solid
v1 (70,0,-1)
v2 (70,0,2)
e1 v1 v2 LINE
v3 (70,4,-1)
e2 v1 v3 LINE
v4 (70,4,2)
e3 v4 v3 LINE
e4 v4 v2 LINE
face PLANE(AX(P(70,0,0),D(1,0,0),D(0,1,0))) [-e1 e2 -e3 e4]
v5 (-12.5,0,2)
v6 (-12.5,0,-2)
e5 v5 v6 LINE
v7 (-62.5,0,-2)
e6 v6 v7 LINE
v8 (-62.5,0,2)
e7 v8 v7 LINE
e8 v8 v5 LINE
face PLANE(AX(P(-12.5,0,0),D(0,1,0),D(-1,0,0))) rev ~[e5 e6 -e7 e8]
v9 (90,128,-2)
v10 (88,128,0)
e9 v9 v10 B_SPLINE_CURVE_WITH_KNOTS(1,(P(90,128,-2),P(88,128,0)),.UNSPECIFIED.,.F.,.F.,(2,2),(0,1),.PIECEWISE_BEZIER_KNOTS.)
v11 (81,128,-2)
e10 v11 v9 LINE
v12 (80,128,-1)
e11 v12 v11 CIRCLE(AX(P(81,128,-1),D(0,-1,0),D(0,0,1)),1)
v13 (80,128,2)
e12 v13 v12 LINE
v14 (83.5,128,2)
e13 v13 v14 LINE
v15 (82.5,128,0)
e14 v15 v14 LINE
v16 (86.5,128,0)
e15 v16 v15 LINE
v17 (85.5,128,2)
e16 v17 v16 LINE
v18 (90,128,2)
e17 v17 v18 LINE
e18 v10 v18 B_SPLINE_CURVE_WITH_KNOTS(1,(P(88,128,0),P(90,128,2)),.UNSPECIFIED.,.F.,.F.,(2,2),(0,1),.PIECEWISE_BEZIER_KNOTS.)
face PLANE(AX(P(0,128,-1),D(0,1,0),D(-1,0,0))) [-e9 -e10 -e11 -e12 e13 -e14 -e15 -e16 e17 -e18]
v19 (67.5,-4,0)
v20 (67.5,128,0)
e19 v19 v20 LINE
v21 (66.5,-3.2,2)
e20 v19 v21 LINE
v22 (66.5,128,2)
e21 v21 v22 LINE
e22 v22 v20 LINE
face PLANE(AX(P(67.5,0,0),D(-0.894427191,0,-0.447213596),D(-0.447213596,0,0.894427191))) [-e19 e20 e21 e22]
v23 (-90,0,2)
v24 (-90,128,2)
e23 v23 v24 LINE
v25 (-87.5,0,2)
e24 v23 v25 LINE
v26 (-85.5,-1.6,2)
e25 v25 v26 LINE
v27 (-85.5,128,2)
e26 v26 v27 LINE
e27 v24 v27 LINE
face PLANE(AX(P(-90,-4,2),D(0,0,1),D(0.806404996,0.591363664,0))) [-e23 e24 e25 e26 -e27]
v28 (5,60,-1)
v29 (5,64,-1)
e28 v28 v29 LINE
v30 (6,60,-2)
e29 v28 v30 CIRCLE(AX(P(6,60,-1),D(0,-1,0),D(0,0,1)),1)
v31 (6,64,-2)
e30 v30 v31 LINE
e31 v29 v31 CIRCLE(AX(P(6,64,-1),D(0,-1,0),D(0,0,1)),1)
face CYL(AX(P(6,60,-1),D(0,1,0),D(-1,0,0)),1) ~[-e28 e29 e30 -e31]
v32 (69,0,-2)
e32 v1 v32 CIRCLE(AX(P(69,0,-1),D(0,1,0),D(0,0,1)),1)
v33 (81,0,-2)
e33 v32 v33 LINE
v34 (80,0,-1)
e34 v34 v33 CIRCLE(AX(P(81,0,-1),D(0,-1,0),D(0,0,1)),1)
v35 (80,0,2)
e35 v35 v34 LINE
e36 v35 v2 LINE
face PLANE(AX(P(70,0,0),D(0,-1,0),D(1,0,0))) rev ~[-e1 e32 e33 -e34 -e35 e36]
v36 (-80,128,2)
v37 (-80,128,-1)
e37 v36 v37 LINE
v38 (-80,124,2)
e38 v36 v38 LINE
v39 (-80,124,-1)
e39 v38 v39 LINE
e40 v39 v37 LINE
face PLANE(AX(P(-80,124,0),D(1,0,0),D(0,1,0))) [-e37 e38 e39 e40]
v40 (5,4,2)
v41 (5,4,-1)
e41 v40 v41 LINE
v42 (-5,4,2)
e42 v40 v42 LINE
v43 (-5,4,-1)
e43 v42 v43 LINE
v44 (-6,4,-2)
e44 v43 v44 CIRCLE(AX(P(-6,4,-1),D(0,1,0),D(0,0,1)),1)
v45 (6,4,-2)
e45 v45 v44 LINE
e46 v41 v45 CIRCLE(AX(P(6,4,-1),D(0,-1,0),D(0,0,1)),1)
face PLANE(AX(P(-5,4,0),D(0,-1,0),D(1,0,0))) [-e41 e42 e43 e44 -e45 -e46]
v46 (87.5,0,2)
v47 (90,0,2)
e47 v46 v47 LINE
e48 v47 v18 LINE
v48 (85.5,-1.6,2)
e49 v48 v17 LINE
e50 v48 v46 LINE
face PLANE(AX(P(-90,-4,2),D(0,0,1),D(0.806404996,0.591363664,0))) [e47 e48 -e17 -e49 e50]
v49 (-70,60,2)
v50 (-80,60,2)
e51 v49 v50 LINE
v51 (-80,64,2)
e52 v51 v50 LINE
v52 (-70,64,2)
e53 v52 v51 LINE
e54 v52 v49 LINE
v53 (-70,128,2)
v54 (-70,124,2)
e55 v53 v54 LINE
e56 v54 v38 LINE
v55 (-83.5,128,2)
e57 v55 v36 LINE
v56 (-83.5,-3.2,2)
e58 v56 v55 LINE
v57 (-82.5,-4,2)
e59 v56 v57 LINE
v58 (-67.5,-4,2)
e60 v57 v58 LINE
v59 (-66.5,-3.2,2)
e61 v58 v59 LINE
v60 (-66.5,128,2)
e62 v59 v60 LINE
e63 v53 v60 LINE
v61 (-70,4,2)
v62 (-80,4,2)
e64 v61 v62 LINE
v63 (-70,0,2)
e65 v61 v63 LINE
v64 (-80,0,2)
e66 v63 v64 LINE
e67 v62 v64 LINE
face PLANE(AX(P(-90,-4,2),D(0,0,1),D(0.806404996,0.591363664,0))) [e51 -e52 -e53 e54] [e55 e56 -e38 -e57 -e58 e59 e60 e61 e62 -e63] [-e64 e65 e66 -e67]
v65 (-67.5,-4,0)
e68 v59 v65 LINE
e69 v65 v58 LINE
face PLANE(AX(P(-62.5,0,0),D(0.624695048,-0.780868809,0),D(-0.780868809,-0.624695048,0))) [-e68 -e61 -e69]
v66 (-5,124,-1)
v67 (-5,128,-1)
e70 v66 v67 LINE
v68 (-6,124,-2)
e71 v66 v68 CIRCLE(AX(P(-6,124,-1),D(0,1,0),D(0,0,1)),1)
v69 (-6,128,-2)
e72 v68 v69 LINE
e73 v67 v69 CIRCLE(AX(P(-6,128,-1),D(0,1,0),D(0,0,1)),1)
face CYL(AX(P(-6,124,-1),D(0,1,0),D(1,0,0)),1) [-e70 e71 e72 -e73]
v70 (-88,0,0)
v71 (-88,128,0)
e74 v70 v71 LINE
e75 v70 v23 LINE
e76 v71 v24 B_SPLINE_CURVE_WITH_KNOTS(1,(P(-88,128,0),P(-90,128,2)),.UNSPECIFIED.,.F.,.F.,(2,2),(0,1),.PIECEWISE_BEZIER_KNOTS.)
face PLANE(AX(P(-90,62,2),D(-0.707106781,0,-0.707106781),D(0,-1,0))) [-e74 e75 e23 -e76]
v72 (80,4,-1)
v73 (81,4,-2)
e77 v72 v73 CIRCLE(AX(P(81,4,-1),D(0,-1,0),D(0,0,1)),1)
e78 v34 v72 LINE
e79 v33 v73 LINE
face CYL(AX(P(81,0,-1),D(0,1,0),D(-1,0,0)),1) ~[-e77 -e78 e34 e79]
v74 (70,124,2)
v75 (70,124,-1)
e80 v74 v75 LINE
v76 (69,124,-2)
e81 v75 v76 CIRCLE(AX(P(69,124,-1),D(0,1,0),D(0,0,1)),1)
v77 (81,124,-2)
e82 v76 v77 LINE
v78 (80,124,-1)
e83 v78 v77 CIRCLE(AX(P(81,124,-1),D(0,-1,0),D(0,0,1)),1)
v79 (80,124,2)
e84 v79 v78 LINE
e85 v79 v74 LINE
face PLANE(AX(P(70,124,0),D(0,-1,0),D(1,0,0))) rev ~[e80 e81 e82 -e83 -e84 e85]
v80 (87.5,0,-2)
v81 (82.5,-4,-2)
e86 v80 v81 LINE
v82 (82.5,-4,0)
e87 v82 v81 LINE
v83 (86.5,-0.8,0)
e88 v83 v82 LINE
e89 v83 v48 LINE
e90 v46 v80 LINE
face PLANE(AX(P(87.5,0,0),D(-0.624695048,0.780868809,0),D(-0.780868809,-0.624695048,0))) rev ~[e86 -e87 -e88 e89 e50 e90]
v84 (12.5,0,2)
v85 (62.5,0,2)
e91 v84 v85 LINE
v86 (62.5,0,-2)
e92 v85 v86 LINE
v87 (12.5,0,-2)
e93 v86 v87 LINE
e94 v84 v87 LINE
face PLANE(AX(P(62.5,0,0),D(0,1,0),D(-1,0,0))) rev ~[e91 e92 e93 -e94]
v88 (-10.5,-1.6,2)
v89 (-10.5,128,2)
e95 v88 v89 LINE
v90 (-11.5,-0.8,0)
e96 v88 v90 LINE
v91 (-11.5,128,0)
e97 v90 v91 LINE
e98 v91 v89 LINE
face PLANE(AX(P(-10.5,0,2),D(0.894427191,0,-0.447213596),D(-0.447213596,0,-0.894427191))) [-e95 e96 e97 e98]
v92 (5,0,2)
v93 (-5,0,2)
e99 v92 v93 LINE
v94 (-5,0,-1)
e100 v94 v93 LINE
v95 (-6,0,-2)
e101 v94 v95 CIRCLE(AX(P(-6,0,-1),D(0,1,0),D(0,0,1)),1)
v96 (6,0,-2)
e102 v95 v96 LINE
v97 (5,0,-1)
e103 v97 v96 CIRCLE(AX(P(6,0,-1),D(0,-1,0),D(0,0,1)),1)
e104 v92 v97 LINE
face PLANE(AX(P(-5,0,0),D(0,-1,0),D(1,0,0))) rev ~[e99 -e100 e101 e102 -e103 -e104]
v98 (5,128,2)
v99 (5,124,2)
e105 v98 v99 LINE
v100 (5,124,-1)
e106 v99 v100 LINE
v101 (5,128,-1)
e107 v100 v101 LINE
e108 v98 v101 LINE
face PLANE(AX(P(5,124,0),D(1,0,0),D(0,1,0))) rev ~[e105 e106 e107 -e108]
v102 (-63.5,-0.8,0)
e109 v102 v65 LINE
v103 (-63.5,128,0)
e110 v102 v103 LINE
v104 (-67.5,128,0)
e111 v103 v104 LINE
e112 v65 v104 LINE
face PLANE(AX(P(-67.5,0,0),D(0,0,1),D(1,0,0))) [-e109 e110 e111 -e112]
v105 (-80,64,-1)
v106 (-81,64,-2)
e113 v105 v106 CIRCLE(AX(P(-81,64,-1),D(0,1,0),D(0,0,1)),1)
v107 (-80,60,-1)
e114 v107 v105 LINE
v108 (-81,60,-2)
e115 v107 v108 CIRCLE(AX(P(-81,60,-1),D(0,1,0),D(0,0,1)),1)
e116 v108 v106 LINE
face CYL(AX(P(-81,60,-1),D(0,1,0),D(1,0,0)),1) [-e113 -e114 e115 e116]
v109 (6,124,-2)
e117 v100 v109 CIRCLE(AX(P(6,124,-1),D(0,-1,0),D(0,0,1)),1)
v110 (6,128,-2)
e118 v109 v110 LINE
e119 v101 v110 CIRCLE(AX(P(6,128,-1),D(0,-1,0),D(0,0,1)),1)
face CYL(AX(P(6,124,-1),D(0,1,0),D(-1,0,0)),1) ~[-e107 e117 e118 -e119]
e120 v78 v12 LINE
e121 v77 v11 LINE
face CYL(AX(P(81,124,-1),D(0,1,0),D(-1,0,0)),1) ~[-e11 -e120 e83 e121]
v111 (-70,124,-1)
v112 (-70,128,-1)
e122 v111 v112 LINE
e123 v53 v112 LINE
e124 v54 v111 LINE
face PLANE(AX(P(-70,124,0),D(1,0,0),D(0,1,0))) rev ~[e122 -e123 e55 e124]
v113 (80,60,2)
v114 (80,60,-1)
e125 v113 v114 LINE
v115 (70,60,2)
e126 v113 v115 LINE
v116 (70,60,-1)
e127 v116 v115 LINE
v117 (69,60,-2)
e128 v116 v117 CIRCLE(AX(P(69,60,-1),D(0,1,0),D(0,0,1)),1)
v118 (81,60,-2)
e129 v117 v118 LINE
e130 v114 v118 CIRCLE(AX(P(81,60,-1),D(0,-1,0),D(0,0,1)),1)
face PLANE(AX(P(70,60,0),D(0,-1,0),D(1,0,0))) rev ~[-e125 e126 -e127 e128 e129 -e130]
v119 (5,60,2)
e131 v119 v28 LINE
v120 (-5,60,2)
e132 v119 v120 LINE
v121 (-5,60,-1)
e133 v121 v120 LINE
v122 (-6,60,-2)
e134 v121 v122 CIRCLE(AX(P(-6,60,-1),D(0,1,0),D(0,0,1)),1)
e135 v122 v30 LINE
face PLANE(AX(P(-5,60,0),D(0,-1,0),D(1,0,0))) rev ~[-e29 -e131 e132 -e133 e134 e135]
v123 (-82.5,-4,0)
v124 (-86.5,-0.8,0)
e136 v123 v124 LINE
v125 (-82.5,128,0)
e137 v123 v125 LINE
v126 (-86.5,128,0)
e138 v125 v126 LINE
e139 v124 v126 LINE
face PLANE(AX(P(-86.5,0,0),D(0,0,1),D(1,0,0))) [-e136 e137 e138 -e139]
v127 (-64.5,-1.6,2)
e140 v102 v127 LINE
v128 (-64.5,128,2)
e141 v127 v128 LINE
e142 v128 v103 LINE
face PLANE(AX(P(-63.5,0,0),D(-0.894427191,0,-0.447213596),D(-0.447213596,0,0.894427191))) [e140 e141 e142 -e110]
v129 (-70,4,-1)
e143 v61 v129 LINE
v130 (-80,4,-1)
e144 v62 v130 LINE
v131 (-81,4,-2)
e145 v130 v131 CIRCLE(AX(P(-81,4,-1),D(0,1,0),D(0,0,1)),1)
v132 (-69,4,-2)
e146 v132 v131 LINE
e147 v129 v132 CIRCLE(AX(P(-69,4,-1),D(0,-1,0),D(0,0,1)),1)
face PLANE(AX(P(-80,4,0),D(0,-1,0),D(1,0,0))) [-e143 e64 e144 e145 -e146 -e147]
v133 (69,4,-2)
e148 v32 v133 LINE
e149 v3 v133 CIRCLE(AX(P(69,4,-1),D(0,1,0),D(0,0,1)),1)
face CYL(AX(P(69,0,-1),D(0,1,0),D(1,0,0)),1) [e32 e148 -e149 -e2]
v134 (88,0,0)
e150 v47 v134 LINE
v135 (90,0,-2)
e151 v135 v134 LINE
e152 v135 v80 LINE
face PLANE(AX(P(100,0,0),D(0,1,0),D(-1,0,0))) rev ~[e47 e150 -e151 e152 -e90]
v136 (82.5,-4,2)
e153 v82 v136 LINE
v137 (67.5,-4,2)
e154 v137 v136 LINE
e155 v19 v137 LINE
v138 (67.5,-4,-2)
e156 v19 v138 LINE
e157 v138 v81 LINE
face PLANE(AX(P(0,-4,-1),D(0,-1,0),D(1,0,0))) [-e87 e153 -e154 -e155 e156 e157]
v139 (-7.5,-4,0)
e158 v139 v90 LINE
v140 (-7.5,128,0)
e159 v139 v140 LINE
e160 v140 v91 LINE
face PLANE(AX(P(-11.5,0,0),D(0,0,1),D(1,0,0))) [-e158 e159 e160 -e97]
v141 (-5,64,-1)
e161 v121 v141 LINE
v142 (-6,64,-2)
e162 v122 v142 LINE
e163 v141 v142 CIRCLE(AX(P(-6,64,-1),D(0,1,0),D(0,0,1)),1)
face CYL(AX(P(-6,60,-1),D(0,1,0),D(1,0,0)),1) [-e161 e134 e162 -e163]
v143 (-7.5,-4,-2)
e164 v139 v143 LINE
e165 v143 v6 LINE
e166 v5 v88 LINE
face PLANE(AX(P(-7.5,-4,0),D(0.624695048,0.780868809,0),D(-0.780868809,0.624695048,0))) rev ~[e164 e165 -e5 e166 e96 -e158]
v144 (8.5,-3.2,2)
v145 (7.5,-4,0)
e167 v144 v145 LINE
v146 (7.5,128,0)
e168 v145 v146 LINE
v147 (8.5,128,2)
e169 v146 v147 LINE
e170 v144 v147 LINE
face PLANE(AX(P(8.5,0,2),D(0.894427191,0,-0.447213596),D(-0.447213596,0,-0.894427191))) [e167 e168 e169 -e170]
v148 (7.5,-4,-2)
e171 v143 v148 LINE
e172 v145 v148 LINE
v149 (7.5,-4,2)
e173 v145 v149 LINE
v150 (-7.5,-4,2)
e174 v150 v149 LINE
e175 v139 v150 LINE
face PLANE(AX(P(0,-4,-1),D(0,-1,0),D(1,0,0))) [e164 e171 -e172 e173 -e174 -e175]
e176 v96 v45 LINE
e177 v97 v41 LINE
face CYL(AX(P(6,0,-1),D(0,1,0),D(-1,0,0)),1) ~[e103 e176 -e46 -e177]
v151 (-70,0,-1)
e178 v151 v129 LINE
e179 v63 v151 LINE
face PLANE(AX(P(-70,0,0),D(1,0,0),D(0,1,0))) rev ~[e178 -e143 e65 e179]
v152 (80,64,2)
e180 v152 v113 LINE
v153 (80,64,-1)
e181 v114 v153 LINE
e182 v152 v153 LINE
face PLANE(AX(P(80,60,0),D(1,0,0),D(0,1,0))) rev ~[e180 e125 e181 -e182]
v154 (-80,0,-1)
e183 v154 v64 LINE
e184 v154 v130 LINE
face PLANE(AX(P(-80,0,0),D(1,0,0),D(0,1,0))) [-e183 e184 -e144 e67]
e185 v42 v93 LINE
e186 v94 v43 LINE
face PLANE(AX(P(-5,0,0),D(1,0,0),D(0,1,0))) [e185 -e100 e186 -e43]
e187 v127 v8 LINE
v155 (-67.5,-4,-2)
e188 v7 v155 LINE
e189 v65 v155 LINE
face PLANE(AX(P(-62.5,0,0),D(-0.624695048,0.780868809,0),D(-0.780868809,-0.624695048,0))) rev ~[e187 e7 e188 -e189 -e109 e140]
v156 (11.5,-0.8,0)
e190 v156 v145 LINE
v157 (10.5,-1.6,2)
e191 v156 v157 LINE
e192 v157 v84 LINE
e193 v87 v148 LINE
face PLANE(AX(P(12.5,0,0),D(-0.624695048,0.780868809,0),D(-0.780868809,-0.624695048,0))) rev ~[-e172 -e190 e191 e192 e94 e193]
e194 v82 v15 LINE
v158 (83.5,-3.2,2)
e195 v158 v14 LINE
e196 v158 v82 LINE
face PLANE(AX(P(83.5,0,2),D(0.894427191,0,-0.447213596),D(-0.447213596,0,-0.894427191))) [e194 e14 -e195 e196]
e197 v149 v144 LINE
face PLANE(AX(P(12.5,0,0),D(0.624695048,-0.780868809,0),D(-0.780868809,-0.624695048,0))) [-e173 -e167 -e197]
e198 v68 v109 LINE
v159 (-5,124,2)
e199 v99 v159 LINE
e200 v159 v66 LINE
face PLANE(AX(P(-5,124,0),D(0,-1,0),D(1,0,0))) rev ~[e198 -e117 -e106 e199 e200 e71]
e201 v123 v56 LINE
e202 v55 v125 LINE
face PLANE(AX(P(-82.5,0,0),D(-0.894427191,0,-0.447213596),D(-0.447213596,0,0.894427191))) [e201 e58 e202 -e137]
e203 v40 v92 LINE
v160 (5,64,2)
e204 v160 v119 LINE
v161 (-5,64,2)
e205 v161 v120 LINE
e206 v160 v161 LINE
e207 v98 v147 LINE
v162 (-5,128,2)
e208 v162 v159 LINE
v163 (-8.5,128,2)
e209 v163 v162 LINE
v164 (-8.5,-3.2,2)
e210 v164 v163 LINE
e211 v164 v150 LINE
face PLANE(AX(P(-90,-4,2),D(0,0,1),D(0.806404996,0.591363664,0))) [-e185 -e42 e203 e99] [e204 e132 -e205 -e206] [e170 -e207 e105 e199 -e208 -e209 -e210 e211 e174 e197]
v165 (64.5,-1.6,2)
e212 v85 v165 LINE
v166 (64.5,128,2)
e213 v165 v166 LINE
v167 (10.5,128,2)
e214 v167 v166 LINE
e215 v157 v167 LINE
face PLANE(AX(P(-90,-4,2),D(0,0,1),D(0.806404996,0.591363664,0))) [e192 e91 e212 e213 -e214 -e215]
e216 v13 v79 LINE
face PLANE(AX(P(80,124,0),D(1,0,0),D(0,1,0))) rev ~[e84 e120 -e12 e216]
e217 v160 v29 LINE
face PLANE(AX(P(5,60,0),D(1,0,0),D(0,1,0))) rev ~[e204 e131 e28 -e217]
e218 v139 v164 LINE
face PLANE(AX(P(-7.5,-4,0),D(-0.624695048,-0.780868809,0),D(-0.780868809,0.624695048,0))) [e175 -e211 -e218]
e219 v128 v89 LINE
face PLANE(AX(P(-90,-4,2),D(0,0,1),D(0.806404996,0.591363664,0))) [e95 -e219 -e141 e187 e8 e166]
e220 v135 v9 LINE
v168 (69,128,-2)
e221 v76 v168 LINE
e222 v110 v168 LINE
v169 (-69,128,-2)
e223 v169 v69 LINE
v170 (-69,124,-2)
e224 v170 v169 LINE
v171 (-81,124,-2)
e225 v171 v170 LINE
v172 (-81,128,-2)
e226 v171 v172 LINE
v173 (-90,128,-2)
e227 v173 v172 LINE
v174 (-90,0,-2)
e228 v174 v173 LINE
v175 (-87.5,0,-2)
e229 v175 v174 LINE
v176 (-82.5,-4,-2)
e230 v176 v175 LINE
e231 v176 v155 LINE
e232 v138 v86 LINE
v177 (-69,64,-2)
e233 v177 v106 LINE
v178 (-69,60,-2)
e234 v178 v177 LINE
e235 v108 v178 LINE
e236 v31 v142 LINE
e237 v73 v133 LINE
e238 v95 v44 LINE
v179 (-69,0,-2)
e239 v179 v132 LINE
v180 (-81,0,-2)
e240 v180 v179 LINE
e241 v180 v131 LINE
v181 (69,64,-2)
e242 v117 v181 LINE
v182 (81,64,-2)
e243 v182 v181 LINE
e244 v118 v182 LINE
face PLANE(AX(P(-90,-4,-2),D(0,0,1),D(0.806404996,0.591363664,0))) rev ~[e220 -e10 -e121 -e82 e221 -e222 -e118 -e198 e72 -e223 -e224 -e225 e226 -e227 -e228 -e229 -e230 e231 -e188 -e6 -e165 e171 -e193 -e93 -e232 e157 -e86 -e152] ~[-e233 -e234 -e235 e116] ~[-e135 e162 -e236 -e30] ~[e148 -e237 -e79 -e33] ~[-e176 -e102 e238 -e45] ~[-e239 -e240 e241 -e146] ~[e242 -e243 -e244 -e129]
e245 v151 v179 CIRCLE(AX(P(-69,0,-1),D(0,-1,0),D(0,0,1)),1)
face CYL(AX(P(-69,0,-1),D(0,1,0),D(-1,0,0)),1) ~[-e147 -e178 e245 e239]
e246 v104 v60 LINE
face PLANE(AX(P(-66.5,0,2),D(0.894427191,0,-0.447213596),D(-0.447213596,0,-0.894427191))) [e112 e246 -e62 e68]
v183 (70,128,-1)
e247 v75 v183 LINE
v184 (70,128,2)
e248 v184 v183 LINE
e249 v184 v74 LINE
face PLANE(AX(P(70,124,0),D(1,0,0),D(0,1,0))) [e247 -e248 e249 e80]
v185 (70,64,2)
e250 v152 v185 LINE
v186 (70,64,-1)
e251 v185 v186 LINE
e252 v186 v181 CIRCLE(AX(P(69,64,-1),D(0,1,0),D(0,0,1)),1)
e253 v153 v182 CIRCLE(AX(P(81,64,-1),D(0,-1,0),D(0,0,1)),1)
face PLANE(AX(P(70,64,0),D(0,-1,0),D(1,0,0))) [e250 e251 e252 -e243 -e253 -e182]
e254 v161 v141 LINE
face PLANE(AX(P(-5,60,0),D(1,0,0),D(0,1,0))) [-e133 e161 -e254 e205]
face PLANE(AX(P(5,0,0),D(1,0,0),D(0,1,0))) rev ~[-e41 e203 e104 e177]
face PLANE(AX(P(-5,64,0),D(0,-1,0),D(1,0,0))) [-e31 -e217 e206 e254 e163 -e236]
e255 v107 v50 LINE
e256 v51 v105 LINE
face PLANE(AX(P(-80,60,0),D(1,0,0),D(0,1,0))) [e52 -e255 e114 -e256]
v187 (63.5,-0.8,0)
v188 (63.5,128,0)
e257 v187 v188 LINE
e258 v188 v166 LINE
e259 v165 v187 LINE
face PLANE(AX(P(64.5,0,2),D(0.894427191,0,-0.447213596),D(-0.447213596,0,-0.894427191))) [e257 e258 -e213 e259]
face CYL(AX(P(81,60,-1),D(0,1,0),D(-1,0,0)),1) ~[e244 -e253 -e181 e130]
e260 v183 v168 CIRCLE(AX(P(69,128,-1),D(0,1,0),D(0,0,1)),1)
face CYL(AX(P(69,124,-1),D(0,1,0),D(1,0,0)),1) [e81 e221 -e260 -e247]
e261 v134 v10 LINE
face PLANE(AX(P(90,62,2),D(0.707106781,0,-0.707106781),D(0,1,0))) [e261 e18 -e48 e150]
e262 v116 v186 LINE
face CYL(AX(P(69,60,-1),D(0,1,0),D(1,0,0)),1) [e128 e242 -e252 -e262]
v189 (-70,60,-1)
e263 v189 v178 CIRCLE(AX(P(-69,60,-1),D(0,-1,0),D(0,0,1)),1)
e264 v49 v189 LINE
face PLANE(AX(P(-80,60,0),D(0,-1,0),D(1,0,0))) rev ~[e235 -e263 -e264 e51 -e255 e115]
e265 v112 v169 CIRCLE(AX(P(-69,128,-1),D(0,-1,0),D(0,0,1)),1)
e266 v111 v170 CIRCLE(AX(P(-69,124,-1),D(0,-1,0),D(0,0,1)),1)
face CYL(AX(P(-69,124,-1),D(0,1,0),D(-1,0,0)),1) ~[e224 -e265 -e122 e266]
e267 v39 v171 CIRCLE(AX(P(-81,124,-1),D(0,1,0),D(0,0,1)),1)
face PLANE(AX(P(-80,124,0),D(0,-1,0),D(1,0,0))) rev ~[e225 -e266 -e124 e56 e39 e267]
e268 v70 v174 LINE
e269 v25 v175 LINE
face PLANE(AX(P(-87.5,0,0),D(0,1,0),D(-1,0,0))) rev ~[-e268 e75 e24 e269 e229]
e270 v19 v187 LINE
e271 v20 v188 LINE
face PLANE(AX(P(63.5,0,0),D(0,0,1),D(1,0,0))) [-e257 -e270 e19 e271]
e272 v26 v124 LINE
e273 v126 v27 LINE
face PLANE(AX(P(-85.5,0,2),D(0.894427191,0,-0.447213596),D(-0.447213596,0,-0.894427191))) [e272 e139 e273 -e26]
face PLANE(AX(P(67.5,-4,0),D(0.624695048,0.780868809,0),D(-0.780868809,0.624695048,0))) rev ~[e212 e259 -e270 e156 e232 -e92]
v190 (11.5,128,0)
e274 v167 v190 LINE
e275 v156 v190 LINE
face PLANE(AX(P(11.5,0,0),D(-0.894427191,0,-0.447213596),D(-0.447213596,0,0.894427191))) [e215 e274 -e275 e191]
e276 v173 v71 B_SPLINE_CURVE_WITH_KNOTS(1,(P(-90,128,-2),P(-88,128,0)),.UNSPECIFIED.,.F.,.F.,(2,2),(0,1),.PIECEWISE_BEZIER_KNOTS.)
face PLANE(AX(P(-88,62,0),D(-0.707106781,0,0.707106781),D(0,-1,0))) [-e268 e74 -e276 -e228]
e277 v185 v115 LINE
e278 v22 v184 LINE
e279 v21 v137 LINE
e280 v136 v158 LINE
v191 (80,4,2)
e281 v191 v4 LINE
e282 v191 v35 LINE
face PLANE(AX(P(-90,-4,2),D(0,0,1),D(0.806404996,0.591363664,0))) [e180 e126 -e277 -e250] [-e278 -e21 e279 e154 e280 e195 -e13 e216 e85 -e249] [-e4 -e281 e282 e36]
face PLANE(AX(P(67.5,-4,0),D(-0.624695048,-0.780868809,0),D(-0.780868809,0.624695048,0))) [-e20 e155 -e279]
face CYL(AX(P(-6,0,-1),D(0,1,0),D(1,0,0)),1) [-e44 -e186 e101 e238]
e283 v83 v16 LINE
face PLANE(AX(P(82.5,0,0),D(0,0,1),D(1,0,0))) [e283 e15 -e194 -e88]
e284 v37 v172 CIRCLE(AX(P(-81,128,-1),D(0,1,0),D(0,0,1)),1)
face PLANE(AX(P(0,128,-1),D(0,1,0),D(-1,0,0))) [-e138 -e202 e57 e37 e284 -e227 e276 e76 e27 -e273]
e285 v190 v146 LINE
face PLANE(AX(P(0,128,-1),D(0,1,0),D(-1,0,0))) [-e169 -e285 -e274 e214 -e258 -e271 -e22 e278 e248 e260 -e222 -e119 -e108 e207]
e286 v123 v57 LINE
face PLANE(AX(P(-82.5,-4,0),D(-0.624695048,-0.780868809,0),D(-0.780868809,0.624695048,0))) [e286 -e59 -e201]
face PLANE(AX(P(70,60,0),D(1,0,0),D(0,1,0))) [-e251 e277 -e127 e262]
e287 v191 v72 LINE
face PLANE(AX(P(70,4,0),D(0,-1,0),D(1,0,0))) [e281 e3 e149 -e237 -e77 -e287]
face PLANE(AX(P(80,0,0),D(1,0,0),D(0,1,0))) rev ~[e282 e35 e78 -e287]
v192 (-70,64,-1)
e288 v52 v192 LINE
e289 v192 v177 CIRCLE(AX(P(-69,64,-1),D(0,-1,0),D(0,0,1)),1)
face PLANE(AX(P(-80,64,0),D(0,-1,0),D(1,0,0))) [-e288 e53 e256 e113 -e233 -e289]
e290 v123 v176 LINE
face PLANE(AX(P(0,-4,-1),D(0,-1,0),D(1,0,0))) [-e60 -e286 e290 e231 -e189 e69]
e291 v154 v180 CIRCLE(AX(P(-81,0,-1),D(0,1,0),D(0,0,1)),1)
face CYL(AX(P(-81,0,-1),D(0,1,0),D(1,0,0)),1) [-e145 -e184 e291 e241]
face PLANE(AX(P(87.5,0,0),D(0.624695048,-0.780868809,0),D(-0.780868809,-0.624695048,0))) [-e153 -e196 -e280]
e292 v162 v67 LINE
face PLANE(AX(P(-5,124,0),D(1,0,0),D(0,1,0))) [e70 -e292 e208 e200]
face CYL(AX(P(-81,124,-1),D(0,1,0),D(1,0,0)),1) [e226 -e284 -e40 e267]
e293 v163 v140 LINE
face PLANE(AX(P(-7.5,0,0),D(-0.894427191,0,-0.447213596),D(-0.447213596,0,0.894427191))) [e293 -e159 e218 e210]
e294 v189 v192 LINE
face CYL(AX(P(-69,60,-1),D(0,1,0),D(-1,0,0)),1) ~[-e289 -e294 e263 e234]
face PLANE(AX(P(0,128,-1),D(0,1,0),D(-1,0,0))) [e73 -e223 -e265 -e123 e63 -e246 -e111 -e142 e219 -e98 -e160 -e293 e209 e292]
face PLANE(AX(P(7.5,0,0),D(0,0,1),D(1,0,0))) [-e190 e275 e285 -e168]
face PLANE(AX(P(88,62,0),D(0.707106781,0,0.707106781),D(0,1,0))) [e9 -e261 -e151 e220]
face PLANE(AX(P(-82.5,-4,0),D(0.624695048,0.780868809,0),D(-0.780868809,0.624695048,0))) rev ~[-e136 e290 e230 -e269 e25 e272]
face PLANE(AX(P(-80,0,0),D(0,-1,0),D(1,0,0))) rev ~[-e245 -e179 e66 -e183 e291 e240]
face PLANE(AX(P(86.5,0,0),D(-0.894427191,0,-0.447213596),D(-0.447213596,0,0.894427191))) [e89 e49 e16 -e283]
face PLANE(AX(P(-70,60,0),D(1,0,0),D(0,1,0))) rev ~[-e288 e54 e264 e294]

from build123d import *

# Parameters (mm, degrees)
SKETCH005_W          = 180
SKETCH005_H          = 132
SKETCH003_W          = 176
SKETCH003_H          = 132
SKETCH004_W          = 180
SKETCH004_H          = 132
SKETCH_W             = 10
SKETCH_H             = 4
POCKET_DEPTH         = 2.001
POCKET_DEPTH_BACK    = 2.001
SKETCH001_W          = 10
SKETCH001_H          = 4
POCKET001_DEPTH      = 2.001
POCKET001_DEPTH_BACK = 2.001
SKETCH002_W          = 10
SKETCH002_H          = 4
POCKET002_DEPTH      = 2.001
POCKET002_DEPTH_BACK = 2.001
POCKET003_DEPTH      = 128.001
POCKET003_DEPTH_BACK = 4.001
POCKET004_DEPTH      = 128.001
POCKET004_DEPTH_BACK = 4.001
POCKET005_DEPTH      = 128.001
POCKET005_DEPTH_BACK = 4.001
FILLET_R             = 1
POCKET006_DEPTH      = 2.001
POCKET006_DEPTH_BACK = 2.001


with BuildPart() as part:
    # Sketch005 (on DatumPlane) → AdditiveLoft section 0
    with BuildSketch(Plane.XY.offset(-2)):
        with Locations((0, 62)):
            Rectangle(SKETCH005_W, SKETCH005_H)
    # Sketch003 → AdditiveLoft section 1
    with BuildSketch(Plane.XY):
        with Locations((0, 62)):
            Rectangle(SKETCH003_W, SKETCH003_H)
    # Sketch004 (on DatumPlane) → AdditiveLoft section 2
    with BuildSketch(Plane.XY.offset(2)):
        with Locations((0, 62)):
            Rectangle(SKETCH004_W, SKETCH004_H)
    loft(ruled=True)

    # Sketch → Pocket (cut, two sides)
    with BuildSketch(Plane.XY) as pocket_sk:
        with Locations((-75, 2)):
            Rectangle(SKETCH_W, SKETCH_H)
        with Locations((0, 2)):
            Rectangle(SKETCH_W, SKETCH_H)
        with Locations((75, 2)):
            Rectangle(SKETCH_W, SKETCH_H)
    extrude(amount=-POCKET_DEPTH, mode=Mode.SUBTRACT)
    extrude(pocket_sk.sketch, amount=POCKET_DEPTH_BACK, mode=Mode.SUBTRACT)

    # Sketch001 (on DatumPlane) → Pocket001 (cut, two sides)
    with BuildSketch(Plane(origin=(0, 60, 0), x_dir=(1, 0, 0), z_dir=(0, 0, 1))) as pocket001_sk:
        with Locations((-75, 2)):
            Rectangle(SKETCH001_W, SKETCH001_H)
        with Locations((0, 2)):
            Rectangle(SKETCH001_W, SKETCH001_H)
        with Locations((75, 2)):
            Rectangle(SKETCH001_W, SKETCH001_H)
    extrude(amount=-POCKET001_DEPTH, mode=Mode.SUBTRACT)
    extrude(pocket001_sk.sketch, amount=POCKET001_DEPTH_BACK, mode=Mode.SUBTRACT)

    # Sketch002 (on DatumPlane) → Pocket002 (cut, two sides)
    with BuildSketch(Plane(origin=(0, 124, 0), x_dir=(1, 0, 0), z_dir=(0, 0, 1))) as pocket002_sk:
        with Locations((-75, 2)):
            Rectangle(SKETCH002_W, SKETCH002_H)
        with Locations((0, 2)):
            Rectangle(SKETCH002_W, SKETCH002_H)
        with Locations((75, 2)):
            Rectangle(SKETCH002_W, SKETCH002_H)
    extrude(amount=-POCKET002_DEPTH, mode=Mode.SUBTRACT)
    extrude(pocket002_sk.sketch, amount=POCKET002_DEPTH_BACK, mode=Mode.SUBTRACT)

    # Sketch006 → Pocket003 (cut, two sides)
    with BuildSketch(Plane.XZ) as pocket003_sk:
        Polygon((-11.5, 0), (-7.5, 0), (-8.5, 2), (-10.5, 2), align=None)
        Polygon((7.5, 0), (11.5, 0), (10.5, 2), (8.5, 2), align=None)
    extrude(amount=-POCKET003_DEPTH, mode=Mode.SUBTRACT)
    extrude(pocket003_sk.sketch, amount=POCKET003_DEPTH_BACK, mode=Mode.SUBTRACT)

    # Sketch007 (on DatumPlane) → Pocket004 (cut, two sides)
    with BuildSketch(Plane(origin=(-75, 0, 0), x_dir=(1, 0, 0), z_dir=(0, -1, 0))) as pocket004_sk:
        Polygon((-11.5, 0), (-7.5, 0), (-8.5, 2), (-10.5, 2), align=None)
        Polygon((7.5, 0), (11.5, 0), (10.5, 2), (8.5, 2), align=None)
    extrude(amount=-POCKET004_DEPTH, mode=Mode.SUBTRACT)
    extrude(pocket004_sk.sketch, amount=POCKET004_DEPTH_BACK, mode=Mode.SUBTRACT)

    # Sketch008 (on DatumPlane) → Pocket005 (cut, two sides)
    with BuildSketch(Plane(origin=(75, 0, 0), x_dir=(1, 0, 0), z_dir=(0, -1, 0))) as pocket005_sk:
        Polygon((-11.5, 0), (-7.5, 0), (-8.5, 2), (-10.5, 2), align=None)
        Polygon((7.5, 0), (11.5, 0), (10.5, 2), (8.5, 2), align=None)
    extrude(amount=-POCKET005_DEPTH, mode=Mode.SUBTRACT)
    extrude(pocket005_sk.sketch, amount=POCKET005_DEPTH_BACK, mode=Mode.SUBTRACT)

    # Fillet
    fillet_edges = [part.edges().sort_by_distance(p)[0] for p in [
        (-70, 2, -2),
        (-80, 2, -2),
        (-5, 2, -2),
        (5, 2, -2),
        (70, 2, -2),
        (80, 2, -2),
        (-80, 62, -2),
        (-70, 62, -2),
        (-5, 62, -2),
        (5, 62, -2),
        (70, 62, -2),
        (80, 62, -2),
        (-80, 126, -2),
        (-70, 126, -2),
        (-5, 126, -2),
        (5, 126, -2),
        (70, 126, -2),
        (80, 126, -2),
    ]]
    fillet(fillet_edges, radius=FILLET_R)

    # Sketch009 → Pocket006 (cut, two sides)
    with BuildSketch(Plane.XY) as pocket006_sk:
        Polygon((-100, 0), (-100, -20), (100, -20), (100, 0), (87.5, 0), (82.5, -4), (67.5, -4), (62.5, 0), (12.5, 0), (7.5, -4), (-7.5, -4), (-12.5, 0), (-62.5, 0), (-67.5, -4), (-82.5, -4), (-87.5, 0), align=None)
    extrude(amount=-POCKET006_DEPTH, mode=Mode.SUBTRACT)
    extrude(pocket006_sk.sketch, amount=POCKET006_DEPTH_BACK, mode=Mode.SUBTRACT)


solid = part.part
